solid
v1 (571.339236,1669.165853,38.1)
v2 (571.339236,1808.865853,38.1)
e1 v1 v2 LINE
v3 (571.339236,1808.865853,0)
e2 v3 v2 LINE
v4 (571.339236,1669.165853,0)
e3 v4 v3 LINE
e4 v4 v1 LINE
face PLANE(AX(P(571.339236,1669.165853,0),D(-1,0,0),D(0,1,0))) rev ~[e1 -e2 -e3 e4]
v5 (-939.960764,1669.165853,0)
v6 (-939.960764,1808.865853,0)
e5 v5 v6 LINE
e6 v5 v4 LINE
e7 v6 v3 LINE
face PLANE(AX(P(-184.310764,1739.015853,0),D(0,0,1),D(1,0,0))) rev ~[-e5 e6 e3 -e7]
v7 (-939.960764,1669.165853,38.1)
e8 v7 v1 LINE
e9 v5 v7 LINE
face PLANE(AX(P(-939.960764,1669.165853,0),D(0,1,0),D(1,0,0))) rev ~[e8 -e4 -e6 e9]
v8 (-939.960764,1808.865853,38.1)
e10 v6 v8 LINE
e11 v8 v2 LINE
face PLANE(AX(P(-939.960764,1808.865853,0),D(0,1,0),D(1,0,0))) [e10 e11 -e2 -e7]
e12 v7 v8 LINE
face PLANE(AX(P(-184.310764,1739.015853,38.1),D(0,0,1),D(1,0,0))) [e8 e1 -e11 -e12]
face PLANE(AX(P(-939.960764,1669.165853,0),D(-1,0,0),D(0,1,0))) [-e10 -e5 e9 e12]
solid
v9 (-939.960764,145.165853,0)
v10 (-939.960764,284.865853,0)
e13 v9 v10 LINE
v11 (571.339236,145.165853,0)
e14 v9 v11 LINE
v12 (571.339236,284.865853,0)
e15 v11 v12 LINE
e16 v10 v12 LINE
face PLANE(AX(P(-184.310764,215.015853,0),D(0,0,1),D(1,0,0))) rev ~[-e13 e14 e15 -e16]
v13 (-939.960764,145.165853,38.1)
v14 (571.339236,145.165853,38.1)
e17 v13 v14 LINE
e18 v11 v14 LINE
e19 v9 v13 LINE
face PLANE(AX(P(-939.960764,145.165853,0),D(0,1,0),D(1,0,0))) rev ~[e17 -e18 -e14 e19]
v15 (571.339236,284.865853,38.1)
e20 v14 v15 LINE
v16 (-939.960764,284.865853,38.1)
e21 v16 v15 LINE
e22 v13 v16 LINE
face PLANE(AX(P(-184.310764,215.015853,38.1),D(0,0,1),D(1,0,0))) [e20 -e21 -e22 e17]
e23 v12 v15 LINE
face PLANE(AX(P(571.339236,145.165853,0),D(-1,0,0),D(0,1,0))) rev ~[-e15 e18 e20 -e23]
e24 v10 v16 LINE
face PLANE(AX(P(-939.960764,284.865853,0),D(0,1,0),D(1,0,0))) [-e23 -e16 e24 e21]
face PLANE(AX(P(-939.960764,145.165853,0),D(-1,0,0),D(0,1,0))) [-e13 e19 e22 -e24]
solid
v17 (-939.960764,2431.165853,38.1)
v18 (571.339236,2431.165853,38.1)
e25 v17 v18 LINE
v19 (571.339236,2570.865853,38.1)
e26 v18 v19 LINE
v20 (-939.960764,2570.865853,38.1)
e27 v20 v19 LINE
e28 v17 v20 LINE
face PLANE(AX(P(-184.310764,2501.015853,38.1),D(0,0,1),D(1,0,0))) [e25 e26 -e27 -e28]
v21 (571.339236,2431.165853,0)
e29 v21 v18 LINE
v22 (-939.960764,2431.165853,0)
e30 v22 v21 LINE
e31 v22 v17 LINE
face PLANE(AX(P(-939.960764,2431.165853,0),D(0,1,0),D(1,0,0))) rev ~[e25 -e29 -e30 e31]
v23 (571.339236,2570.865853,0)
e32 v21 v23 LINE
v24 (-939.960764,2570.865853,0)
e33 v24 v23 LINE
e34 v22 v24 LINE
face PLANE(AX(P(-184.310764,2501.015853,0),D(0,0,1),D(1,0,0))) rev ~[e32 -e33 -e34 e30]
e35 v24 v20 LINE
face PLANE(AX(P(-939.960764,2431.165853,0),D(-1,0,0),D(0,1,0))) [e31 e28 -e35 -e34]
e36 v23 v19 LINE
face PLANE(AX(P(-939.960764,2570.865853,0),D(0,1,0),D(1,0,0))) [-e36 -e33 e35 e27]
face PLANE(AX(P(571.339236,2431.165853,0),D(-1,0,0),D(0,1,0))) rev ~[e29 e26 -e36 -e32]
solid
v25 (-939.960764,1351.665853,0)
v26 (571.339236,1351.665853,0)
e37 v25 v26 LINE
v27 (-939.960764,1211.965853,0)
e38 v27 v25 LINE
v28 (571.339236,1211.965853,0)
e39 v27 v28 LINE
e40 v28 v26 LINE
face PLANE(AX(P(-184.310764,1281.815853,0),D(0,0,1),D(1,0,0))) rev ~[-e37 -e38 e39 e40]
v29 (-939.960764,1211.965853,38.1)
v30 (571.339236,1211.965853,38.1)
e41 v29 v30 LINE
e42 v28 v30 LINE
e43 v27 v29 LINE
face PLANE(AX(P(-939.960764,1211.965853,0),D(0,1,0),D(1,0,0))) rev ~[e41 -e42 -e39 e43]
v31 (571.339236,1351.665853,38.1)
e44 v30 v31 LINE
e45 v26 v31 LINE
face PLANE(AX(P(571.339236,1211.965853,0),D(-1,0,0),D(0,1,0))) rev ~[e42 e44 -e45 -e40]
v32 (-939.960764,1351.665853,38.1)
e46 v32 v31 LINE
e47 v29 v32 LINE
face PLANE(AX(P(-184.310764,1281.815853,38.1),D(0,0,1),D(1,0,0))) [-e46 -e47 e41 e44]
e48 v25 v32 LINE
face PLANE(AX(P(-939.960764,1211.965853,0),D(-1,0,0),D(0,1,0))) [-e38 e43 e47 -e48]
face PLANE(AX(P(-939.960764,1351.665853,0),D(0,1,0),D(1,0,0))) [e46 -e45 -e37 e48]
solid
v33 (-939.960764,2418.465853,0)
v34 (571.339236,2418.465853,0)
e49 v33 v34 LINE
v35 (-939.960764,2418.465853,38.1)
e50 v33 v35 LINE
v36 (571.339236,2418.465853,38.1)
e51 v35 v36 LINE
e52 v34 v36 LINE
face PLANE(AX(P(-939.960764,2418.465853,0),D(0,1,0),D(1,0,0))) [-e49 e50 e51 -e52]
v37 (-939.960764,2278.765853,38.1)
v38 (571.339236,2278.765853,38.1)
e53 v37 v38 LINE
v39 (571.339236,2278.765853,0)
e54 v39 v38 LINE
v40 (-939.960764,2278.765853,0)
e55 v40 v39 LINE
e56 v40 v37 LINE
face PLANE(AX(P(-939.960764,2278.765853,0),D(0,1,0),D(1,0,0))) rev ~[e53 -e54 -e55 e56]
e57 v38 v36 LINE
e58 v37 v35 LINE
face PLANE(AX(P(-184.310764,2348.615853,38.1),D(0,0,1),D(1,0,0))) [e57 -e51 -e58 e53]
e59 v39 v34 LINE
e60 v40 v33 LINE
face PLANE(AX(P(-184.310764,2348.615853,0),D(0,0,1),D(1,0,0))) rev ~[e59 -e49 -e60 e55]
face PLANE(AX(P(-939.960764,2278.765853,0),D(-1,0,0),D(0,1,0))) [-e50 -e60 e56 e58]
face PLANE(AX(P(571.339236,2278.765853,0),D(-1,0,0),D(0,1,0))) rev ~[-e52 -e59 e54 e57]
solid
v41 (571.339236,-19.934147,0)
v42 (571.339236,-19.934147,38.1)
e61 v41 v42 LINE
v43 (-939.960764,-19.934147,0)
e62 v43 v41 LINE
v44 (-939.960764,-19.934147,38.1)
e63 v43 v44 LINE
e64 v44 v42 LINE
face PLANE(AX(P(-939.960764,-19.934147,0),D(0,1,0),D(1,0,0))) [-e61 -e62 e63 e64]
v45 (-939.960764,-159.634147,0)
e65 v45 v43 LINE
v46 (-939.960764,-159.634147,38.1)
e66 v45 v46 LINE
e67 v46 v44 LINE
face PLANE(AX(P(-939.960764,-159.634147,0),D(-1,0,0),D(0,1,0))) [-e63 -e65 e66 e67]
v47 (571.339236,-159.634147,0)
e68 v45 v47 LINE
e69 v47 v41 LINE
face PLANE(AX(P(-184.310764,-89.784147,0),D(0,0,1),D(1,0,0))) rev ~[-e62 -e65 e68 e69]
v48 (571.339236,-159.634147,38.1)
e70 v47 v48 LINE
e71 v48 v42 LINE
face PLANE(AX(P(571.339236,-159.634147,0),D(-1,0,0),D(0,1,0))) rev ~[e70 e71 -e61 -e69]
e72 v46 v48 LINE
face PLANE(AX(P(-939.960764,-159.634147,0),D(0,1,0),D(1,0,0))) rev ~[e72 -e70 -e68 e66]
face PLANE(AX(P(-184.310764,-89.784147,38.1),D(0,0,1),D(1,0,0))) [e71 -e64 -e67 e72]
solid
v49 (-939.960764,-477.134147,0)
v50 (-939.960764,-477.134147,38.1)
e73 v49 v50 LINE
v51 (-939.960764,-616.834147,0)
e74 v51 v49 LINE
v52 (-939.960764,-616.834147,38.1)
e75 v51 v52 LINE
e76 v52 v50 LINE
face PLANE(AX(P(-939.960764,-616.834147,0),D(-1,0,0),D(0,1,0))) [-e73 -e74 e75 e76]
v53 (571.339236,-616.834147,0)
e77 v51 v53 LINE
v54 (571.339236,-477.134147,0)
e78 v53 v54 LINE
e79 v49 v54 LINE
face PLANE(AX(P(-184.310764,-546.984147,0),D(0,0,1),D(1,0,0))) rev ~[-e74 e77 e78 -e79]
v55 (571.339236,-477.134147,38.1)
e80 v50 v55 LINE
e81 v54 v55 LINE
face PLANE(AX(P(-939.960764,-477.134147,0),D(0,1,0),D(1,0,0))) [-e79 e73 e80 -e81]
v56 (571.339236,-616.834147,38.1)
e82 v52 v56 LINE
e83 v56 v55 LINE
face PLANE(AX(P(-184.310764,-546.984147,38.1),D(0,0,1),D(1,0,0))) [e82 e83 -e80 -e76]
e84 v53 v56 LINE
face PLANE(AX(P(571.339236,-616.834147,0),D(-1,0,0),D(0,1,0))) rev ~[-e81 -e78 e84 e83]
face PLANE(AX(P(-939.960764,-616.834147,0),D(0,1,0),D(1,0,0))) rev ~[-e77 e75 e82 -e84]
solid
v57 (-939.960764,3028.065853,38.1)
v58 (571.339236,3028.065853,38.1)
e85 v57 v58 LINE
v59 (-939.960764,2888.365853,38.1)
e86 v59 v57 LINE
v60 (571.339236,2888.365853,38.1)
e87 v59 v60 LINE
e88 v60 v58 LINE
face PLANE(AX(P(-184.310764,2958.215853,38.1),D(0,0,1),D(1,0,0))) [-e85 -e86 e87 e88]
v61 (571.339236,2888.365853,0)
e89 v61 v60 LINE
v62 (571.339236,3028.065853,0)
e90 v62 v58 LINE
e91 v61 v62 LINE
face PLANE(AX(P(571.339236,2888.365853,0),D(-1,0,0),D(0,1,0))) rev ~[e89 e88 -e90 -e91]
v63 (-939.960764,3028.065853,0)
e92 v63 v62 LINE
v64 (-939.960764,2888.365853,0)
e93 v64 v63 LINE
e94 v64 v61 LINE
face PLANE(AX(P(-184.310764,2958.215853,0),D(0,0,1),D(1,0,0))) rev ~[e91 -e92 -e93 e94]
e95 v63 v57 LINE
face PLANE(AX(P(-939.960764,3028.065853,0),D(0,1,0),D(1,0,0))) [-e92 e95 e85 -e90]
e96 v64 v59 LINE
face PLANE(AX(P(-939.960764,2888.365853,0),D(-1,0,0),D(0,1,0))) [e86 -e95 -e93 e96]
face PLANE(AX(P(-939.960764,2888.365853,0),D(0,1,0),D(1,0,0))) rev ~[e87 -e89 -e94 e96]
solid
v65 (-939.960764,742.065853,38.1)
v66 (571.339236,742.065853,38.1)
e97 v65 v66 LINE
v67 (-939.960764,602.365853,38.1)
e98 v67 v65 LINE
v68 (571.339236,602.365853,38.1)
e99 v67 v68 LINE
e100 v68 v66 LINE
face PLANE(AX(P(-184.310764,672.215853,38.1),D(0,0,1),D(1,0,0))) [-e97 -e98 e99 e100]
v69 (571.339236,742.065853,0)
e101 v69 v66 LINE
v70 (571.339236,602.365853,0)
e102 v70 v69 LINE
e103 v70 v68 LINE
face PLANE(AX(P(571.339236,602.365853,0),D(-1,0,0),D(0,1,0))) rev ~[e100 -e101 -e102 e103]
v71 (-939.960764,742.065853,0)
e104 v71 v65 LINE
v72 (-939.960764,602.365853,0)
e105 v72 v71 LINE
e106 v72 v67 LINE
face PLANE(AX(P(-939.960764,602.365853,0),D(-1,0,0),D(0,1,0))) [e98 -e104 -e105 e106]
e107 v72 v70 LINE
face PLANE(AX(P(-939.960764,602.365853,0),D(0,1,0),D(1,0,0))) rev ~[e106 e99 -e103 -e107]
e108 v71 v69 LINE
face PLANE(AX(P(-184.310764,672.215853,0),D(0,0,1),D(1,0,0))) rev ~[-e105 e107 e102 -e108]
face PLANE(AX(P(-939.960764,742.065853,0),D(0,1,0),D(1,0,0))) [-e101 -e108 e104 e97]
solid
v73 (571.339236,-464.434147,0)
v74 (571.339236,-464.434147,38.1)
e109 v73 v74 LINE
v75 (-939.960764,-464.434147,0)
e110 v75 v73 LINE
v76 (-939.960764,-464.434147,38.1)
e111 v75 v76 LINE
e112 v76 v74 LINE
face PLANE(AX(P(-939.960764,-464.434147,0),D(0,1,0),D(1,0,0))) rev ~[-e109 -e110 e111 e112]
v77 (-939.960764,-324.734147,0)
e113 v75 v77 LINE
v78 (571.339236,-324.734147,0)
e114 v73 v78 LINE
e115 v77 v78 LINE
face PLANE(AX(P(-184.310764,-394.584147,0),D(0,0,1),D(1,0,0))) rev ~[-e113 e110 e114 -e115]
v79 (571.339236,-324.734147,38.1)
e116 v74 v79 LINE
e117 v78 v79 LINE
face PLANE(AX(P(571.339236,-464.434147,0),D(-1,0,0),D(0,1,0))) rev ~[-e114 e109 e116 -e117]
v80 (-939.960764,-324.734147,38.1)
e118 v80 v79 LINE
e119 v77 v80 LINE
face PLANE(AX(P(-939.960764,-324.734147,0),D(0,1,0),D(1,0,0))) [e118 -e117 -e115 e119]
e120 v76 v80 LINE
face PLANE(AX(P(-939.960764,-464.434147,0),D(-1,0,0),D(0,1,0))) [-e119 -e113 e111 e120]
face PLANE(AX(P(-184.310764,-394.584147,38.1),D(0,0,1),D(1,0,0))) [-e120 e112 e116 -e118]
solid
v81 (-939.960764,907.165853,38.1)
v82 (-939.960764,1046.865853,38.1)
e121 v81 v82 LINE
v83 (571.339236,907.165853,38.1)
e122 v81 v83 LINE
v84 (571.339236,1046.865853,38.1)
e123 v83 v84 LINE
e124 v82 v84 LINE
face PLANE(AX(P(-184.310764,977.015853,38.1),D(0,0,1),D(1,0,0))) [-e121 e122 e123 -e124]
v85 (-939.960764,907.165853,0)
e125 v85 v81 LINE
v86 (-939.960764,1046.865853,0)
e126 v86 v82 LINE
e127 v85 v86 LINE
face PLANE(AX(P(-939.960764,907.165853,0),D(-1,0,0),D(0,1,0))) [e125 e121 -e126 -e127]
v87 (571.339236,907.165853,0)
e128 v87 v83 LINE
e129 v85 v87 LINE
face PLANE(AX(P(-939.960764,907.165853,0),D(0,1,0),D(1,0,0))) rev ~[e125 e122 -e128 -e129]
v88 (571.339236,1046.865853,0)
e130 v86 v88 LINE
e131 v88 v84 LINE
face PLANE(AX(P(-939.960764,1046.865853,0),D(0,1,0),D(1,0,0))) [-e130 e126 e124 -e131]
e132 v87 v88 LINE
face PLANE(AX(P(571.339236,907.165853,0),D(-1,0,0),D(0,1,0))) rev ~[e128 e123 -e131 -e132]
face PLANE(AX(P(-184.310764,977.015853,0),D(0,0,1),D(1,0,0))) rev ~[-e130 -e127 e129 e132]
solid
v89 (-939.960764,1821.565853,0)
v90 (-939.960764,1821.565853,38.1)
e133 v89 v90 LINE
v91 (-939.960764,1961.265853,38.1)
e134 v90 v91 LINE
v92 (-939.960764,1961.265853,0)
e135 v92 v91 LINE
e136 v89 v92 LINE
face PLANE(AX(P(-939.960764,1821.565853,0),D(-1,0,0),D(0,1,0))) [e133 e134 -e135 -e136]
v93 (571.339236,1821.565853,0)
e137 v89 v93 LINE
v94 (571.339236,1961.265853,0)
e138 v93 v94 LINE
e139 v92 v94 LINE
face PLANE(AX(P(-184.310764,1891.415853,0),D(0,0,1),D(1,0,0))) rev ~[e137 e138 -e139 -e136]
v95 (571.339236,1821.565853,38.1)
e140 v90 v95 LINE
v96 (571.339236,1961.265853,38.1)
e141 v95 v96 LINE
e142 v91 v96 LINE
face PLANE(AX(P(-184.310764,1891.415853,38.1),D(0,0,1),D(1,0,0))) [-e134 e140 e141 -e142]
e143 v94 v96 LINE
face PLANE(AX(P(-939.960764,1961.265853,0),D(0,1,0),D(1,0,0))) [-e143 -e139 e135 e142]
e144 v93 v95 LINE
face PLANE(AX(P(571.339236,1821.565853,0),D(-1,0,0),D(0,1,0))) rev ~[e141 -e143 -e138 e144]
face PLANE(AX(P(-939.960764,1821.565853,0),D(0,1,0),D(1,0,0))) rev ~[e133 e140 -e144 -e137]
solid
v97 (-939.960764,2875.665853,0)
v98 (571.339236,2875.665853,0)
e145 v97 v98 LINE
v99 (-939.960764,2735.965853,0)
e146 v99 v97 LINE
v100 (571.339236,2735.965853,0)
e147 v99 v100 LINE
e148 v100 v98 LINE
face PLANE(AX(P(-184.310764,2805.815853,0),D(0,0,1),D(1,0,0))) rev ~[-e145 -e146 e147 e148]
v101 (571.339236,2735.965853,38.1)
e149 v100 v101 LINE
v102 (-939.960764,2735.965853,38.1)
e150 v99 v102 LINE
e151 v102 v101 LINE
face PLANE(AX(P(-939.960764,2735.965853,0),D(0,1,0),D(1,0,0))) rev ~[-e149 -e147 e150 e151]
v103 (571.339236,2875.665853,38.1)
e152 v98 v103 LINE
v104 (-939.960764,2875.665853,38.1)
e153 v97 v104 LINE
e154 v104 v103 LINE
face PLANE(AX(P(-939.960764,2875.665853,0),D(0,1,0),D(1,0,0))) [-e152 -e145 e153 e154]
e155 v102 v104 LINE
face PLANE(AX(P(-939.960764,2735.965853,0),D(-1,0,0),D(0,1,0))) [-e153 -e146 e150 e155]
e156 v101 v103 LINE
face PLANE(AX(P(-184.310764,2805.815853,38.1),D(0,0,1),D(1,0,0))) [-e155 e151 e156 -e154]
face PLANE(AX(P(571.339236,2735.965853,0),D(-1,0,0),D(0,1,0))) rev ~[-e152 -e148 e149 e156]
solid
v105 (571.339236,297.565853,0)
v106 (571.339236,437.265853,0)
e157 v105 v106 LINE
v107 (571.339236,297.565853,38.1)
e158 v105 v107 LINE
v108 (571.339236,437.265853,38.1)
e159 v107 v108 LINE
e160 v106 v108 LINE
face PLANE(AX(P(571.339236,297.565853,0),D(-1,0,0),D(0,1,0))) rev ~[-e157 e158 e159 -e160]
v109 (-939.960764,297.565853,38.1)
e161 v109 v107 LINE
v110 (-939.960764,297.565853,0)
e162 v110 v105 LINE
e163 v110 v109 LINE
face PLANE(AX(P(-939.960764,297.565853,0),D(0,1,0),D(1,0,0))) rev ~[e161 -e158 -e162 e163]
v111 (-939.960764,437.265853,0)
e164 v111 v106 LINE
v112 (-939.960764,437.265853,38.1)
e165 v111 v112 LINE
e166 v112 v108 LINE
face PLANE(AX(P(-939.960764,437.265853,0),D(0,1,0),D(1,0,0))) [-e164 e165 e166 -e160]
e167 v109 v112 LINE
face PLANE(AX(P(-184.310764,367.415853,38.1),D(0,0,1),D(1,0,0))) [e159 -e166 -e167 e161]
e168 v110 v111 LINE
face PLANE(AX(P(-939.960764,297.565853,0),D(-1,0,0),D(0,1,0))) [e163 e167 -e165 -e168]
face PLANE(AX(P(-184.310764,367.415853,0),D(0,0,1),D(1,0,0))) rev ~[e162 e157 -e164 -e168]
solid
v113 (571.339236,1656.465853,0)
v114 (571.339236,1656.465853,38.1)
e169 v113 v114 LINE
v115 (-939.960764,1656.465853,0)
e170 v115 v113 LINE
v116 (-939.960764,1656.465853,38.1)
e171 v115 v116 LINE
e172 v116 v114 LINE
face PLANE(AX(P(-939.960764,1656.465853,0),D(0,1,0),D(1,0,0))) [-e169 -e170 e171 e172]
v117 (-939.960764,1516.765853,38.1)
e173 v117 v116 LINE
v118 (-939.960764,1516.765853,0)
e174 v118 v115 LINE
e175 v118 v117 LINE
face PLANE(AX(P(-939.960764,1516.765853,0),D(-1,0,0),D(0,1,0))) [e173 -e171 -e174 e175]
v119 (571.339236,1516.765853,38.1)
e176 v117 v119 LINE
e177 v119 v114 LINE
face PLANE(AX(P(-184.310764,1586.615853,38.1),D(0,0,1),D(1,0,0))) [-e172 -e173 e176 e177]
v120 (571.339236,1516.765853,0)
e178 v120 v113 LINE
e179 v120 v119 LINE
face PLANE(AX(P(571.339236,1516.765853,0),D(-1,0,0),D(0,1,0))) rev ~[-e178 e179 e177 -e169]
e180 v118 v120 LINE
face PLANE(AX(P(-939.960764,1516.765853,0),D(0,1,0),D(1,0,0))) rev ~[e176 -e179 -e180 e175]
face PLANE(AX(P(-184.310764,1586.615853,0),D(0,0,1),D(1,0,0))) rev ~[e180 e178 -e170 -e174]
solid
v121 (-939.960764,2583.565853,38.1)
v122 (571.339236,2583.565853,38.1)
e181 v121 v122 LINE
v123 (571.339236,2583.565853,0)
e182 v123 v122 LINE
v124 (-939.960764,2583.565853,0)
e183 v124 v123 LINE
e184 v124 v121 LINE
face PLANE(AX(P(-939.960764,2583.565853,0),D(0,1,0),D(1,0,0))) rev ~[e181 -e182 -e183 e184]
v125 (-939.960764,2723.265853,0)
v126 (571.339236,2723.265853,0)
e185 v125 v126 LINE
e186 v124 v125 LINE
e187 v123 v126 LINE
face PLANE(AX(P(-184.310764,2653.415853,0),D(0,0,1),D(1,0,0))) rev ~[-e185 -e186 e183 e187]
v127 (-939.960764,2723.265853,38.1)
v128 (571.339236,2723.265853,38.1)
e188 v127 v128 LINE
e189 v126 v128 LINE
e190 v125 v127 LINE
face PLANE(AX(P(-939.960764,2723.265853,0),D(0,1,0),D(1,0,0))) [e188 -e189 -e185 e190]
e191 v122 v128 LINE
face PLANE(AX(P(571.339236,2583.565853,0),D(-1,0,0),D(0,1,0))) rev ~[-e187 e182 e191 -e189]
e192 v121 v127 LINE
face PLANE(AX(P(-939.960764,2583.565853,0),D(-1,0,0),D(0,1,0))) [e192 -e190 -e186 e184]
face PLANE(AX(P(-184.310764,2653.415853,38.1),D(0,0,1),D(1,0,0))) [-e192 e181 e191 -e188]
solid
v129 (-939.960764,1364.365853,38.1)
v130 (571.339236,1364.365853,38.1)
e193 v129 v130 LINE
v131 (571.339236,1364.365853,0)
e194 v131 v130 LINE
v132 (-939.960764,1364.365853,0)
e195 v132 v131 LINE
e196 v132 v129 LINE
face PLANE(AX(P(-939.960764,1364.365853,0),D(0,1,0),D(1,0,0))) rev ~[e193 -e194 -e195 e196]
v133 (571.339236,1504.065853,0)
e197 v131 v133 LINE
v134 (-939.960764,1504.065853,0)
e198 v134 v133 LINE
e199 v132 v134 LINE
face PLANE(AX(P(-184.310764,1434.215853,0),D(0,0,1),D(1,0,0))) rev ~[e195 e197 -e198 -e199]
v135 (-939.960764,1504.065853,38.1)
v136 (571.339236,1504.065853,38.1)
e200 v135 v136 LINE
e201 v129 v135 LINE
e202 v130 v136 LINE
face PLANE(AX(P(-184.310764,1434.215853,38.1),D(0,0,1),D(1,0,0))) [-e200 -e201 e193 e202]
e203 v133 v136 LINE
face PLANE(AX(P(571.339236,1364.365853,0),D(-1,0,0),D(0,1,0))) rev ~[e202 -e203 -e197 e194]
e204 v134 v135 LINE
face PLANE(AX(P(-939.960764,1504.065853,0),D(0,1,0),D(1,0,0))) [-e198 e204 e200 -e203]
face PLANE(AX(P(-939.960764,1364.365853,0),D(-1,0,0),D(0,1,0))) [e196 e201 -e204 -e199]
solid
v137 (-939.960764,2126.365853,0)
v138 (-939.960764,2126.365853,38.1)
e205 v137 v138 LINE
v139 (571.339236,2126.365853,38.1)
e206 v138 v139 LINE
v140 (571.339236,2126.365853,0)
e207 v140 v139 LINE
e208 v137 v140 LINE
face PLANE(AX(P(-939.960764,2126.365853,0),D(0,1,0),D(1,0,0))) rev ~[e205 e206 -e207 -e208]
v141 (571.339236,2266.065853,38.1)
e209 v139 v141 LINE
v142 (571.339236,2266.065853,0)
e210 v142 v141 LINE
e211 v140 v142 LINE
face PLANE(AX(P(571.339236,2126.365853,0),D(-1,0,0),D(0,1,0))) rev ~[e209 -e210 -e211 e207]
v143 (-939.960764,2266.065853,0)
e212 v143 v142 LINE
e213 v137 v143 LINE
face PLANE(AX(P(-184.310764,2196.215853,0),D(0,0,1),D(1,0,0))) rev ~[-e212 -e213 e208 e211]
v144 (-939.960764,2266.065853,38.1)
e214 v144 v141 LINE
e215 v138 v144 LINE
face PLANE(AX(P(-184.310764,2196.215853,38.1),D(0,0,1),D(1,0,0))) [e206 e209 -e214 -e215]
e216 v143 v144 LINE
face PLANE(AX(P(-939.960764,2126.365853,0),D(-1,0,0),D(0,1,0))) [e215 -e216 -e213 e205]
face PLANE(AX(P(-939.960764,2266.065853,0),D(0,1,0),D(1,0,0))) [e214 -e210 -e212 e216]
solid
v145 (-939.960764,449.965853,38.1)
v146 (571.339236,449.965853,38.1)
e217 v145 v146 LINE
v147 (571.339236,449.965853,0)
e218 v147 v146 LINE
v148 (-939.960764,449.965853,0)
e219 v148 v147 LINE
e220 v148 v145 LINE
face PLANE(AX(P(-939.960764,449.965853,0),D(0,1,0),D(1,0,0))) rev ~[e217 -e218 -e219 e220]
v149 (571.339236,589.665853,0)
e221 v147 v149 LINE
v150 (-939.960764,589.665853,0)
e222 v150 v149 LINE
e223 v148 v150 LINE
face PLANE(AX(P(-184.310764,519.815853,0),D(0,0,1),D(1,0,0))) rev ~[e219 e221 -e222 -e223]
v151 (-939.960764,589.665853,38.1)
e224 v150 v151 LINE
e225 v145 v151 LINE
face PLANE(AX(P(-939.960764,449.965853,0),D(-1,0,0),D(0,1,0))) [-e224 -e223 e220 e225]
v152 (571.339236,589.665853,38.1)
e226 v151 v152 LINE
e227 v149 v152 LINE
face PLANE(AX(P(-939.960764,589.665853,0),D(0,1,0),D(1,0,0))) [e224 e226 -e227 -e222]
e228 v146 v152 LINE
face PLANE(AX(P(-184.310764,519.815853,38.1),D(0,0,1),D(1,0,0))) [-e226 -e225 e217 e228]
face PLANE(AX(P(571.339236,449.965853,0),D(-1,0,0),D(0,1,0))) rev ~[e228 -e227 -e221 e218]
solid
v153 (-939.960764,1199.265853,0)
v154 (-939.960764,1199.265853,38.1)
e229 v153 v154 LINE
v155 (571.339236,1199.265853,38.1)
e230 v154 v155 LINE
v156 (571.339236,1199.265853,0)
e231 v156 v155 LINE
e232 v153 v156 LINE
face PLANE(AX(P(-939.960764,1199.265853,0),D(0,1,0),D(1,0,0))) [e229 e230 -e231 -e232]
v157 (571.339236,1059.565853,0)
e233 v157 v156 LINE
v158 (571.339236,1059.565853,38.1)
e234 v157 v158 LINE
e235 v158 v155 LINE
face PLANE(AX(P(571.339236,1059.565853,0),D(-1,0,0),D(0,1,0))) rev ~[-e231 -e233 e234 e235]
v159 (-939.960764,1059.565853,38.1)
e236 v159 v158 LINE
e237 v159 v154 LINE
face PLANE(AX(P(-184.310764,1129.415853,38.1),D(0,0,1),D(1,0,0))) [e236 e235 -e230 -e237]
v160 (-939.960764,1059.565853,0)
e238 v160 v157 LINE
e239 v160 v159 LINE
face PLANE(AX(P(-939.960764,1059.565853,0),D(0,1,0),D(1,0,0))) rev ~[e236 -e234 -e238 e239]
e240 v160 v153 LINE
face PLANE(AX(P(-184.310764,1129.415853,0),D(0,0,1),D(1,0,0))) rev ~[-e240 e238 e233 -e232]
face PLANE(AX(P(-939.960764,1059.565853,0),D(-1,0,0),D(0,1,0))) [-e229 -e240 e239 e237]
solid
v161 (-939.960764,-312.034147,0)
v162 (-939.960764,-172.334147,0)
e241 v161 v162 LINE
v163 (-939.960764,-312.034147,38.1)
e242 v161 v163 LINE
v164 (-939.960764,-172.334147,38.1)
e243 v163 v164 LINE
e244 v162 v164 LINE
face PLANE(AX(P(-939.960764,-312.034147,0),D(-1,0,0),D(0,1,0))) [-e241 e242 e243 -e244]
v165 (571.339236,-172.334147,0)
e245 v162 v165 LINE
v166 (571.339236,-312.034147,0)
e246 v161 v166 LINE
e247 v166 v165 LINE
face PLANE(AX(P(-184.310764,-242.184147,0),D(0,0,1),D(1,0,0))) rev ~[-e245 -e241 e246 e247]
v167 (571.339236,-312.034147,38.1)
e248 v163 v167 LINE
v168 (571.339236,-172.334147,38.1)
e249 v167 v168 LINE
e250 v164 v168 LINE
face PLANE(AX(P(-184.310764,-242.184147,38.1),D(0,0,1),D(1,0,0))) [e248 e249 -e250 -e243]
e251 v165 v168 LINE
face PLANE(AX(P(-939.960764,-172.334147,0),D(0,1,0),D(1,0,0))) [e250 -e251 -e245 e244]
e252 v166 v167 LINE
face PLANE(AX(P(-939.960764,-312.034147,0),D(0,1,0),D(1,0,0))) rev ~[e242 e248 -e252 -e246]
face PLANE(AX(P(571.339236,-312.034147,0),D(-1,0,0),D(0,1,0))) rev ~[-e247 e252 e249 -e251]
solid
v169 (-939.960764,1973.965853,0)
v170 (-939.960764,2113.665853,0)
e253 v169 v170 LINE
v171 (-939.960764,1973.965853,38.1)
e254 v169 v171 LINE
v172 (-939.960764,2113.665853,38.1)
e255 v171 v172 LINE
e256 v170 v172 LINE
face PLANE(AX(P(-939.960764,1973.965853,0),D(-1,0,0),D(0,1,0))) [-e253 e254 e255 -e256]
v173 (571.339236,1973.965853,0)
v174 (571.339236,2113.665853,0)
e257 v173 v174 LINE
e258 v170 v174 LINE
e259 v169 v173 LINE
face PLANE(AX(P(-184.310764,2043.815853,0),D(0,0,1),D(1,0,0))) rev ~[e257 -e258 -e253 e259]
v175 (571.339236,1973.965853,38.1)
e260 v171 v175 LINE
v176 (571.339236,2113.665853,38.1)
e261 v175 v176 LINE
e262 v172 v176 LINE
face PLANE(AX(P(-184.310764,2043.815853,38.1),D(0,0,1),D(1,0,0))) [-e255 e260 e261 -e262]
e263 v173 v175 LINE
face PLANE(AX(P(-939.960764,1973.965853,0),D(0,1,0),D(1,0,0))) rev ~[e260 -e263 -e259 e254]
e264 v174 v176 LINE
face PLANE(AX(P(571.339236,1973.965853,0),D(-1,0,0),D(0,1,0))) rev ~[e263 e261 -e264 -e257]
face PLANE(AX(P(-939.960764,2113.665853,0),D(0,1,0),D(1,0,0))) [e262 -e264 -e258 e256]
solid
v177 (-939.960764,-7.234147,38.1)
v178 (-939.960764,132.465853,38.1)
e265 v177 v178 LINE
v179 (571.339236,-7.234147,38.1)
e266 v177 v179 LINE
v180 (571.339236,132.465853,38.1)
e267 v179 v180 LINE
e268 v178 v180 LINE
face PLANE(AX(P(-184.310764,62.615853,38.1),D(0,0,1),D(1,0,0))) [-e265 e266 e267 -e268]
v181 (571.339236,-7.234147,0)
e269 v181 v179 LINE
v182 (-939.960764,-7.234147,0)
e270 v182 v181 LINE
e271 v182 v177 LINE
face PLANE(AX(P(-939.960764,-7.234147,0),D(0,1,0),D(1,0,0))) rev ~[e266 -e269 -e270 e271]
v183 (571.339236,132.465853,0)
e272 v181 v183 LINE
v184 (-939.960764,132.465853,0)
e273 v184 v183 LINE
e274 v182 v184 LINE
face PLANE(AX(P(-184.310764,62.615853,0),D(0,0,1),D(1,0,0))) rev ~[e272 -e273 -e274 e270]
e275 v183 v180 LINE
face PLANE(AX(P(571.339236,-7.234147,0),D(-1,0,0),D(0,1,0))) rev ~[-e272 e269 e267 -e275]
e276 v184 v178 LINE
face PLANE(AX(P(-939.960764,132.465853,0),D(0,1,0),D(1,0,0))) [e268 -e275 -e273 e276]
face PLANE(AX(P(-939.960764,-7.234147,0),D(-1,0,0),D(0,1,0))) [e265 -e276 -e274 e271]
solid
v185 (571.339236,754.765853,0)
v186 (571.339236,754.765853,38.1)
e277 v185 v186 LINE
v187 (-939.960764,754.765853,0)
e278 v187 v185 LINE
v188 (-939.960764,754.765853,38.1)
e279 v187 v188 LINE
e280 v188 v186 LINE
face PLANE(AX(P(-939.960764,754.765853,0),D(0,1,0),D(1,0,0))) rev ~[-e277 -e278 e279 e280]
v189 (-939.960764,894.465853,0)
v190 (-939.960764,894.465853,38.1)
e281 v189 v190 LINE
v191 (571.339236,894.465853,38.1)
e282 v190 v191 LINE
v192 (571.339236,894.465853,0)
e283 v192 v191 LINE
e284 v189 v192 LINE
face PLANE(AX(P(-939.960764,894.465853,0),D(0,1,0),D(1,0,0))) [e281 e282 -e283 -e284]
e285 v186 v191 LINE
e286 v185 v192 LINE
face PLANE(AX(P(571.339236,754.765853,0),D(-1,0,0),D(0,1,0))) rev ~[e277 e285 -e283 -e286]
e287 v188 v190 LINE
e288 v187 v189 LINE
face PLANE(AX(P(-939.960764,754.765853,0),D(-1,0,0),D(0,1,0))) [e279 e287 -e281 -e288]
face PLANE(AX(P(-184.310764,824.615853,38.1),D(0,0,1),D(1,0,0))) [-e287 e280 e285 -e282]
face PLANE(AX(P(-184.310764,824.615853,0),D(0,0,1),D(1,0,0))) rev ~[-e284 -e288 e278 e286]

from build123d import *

# Parameters (mm, degrees)
F0_W     = 1511.3
F0_H     = 139.7
F1_DEPTH = 38.1


with BuildPart() as f1:
    # F0 (on Top) → F1 (new body)
    with BuildSketch(Plane.XY):
        with Locations((-184.310764, -546.984147)):
            Rectangle(F0_W, F0_H)
        with Locations((-184.310764, -394.584147)):
            Rectangle(F0_W, F0_H)
        with Locations((-184.310764, -242.184147)):
            Rectangle(F0_W, F0_H)
        with Locations((-184.310764, -89.784147)):
            Rectangle(F0_W, F0_H)
        with Locations((-184.310764, 62.615853)):
            Rectangle(F0_W, F0_H)
        with Locations((-184.310764, 215.015853)):
            Rectangle(F0_W, F0_H)
        with Locations((-184.310764, 367.415853)):
            Rectangle(F0_W, F0_H)
        with Locations((-184.310764, 519.815853)):
            Rectangle(F0_W, F0_H)
        with Locations((-184.310764, 672.215853)):
            Rectangle(F0_W, F0_H)
        with Locations((-184.310764, 824.615853)):
            Rectangle(F0_W, F0_H)
        with Locations((-184.310764, 977.015853)):
            Rectangle(F0_W, F0_H)
        with Locations((-184.310764, 1129.415853)):
            Rectangle(F0_W, F0_H)
        with Locations((-184.310764, 1281.815853)):
            Rectangle(F0_W, F0_H)
        with Locations((-184.310764, 1434.215853)):
            Rectangle(F0_W, F0_H)
        with Locations((-184.310764, 1586.615853)):
            Rectangle(F0_W, F0_H)
        with Locations((-184.310764, 1739.015853)):
            Rectangle(F0_W, F0_H)
        with Locations((-184.310764, 1891.415853)):
            Rectangle(F0_W, F0_H)
        with Locations((-184.310764, 2043.815853)):
            Rectangle(F0_W, F0_H)
        with Locations((-184.310764, 2196.215853)):
            Rectangle(F0_W, F0_H)
        with Locations((-184.310764, 2348.615853)):
            Rectangle(F0_W, F0_H)
        with Locations((-184.310764, 2501.015853)):
            Rectangle(F0_W, F0_H)
        with Locations((-184.310764, 2653.415853)):
            Rectangle(F0_W, F0_H)
        with Locations((-184.310764, 2805.815853)):
            Rectangle(F0_W, F0_H)
        with Locations((-184.310764, 2958.215853)):
            Rectangle(F0_W, F0_H)
    extrude(amount=F1_DEPTH)


solid = f1.part
